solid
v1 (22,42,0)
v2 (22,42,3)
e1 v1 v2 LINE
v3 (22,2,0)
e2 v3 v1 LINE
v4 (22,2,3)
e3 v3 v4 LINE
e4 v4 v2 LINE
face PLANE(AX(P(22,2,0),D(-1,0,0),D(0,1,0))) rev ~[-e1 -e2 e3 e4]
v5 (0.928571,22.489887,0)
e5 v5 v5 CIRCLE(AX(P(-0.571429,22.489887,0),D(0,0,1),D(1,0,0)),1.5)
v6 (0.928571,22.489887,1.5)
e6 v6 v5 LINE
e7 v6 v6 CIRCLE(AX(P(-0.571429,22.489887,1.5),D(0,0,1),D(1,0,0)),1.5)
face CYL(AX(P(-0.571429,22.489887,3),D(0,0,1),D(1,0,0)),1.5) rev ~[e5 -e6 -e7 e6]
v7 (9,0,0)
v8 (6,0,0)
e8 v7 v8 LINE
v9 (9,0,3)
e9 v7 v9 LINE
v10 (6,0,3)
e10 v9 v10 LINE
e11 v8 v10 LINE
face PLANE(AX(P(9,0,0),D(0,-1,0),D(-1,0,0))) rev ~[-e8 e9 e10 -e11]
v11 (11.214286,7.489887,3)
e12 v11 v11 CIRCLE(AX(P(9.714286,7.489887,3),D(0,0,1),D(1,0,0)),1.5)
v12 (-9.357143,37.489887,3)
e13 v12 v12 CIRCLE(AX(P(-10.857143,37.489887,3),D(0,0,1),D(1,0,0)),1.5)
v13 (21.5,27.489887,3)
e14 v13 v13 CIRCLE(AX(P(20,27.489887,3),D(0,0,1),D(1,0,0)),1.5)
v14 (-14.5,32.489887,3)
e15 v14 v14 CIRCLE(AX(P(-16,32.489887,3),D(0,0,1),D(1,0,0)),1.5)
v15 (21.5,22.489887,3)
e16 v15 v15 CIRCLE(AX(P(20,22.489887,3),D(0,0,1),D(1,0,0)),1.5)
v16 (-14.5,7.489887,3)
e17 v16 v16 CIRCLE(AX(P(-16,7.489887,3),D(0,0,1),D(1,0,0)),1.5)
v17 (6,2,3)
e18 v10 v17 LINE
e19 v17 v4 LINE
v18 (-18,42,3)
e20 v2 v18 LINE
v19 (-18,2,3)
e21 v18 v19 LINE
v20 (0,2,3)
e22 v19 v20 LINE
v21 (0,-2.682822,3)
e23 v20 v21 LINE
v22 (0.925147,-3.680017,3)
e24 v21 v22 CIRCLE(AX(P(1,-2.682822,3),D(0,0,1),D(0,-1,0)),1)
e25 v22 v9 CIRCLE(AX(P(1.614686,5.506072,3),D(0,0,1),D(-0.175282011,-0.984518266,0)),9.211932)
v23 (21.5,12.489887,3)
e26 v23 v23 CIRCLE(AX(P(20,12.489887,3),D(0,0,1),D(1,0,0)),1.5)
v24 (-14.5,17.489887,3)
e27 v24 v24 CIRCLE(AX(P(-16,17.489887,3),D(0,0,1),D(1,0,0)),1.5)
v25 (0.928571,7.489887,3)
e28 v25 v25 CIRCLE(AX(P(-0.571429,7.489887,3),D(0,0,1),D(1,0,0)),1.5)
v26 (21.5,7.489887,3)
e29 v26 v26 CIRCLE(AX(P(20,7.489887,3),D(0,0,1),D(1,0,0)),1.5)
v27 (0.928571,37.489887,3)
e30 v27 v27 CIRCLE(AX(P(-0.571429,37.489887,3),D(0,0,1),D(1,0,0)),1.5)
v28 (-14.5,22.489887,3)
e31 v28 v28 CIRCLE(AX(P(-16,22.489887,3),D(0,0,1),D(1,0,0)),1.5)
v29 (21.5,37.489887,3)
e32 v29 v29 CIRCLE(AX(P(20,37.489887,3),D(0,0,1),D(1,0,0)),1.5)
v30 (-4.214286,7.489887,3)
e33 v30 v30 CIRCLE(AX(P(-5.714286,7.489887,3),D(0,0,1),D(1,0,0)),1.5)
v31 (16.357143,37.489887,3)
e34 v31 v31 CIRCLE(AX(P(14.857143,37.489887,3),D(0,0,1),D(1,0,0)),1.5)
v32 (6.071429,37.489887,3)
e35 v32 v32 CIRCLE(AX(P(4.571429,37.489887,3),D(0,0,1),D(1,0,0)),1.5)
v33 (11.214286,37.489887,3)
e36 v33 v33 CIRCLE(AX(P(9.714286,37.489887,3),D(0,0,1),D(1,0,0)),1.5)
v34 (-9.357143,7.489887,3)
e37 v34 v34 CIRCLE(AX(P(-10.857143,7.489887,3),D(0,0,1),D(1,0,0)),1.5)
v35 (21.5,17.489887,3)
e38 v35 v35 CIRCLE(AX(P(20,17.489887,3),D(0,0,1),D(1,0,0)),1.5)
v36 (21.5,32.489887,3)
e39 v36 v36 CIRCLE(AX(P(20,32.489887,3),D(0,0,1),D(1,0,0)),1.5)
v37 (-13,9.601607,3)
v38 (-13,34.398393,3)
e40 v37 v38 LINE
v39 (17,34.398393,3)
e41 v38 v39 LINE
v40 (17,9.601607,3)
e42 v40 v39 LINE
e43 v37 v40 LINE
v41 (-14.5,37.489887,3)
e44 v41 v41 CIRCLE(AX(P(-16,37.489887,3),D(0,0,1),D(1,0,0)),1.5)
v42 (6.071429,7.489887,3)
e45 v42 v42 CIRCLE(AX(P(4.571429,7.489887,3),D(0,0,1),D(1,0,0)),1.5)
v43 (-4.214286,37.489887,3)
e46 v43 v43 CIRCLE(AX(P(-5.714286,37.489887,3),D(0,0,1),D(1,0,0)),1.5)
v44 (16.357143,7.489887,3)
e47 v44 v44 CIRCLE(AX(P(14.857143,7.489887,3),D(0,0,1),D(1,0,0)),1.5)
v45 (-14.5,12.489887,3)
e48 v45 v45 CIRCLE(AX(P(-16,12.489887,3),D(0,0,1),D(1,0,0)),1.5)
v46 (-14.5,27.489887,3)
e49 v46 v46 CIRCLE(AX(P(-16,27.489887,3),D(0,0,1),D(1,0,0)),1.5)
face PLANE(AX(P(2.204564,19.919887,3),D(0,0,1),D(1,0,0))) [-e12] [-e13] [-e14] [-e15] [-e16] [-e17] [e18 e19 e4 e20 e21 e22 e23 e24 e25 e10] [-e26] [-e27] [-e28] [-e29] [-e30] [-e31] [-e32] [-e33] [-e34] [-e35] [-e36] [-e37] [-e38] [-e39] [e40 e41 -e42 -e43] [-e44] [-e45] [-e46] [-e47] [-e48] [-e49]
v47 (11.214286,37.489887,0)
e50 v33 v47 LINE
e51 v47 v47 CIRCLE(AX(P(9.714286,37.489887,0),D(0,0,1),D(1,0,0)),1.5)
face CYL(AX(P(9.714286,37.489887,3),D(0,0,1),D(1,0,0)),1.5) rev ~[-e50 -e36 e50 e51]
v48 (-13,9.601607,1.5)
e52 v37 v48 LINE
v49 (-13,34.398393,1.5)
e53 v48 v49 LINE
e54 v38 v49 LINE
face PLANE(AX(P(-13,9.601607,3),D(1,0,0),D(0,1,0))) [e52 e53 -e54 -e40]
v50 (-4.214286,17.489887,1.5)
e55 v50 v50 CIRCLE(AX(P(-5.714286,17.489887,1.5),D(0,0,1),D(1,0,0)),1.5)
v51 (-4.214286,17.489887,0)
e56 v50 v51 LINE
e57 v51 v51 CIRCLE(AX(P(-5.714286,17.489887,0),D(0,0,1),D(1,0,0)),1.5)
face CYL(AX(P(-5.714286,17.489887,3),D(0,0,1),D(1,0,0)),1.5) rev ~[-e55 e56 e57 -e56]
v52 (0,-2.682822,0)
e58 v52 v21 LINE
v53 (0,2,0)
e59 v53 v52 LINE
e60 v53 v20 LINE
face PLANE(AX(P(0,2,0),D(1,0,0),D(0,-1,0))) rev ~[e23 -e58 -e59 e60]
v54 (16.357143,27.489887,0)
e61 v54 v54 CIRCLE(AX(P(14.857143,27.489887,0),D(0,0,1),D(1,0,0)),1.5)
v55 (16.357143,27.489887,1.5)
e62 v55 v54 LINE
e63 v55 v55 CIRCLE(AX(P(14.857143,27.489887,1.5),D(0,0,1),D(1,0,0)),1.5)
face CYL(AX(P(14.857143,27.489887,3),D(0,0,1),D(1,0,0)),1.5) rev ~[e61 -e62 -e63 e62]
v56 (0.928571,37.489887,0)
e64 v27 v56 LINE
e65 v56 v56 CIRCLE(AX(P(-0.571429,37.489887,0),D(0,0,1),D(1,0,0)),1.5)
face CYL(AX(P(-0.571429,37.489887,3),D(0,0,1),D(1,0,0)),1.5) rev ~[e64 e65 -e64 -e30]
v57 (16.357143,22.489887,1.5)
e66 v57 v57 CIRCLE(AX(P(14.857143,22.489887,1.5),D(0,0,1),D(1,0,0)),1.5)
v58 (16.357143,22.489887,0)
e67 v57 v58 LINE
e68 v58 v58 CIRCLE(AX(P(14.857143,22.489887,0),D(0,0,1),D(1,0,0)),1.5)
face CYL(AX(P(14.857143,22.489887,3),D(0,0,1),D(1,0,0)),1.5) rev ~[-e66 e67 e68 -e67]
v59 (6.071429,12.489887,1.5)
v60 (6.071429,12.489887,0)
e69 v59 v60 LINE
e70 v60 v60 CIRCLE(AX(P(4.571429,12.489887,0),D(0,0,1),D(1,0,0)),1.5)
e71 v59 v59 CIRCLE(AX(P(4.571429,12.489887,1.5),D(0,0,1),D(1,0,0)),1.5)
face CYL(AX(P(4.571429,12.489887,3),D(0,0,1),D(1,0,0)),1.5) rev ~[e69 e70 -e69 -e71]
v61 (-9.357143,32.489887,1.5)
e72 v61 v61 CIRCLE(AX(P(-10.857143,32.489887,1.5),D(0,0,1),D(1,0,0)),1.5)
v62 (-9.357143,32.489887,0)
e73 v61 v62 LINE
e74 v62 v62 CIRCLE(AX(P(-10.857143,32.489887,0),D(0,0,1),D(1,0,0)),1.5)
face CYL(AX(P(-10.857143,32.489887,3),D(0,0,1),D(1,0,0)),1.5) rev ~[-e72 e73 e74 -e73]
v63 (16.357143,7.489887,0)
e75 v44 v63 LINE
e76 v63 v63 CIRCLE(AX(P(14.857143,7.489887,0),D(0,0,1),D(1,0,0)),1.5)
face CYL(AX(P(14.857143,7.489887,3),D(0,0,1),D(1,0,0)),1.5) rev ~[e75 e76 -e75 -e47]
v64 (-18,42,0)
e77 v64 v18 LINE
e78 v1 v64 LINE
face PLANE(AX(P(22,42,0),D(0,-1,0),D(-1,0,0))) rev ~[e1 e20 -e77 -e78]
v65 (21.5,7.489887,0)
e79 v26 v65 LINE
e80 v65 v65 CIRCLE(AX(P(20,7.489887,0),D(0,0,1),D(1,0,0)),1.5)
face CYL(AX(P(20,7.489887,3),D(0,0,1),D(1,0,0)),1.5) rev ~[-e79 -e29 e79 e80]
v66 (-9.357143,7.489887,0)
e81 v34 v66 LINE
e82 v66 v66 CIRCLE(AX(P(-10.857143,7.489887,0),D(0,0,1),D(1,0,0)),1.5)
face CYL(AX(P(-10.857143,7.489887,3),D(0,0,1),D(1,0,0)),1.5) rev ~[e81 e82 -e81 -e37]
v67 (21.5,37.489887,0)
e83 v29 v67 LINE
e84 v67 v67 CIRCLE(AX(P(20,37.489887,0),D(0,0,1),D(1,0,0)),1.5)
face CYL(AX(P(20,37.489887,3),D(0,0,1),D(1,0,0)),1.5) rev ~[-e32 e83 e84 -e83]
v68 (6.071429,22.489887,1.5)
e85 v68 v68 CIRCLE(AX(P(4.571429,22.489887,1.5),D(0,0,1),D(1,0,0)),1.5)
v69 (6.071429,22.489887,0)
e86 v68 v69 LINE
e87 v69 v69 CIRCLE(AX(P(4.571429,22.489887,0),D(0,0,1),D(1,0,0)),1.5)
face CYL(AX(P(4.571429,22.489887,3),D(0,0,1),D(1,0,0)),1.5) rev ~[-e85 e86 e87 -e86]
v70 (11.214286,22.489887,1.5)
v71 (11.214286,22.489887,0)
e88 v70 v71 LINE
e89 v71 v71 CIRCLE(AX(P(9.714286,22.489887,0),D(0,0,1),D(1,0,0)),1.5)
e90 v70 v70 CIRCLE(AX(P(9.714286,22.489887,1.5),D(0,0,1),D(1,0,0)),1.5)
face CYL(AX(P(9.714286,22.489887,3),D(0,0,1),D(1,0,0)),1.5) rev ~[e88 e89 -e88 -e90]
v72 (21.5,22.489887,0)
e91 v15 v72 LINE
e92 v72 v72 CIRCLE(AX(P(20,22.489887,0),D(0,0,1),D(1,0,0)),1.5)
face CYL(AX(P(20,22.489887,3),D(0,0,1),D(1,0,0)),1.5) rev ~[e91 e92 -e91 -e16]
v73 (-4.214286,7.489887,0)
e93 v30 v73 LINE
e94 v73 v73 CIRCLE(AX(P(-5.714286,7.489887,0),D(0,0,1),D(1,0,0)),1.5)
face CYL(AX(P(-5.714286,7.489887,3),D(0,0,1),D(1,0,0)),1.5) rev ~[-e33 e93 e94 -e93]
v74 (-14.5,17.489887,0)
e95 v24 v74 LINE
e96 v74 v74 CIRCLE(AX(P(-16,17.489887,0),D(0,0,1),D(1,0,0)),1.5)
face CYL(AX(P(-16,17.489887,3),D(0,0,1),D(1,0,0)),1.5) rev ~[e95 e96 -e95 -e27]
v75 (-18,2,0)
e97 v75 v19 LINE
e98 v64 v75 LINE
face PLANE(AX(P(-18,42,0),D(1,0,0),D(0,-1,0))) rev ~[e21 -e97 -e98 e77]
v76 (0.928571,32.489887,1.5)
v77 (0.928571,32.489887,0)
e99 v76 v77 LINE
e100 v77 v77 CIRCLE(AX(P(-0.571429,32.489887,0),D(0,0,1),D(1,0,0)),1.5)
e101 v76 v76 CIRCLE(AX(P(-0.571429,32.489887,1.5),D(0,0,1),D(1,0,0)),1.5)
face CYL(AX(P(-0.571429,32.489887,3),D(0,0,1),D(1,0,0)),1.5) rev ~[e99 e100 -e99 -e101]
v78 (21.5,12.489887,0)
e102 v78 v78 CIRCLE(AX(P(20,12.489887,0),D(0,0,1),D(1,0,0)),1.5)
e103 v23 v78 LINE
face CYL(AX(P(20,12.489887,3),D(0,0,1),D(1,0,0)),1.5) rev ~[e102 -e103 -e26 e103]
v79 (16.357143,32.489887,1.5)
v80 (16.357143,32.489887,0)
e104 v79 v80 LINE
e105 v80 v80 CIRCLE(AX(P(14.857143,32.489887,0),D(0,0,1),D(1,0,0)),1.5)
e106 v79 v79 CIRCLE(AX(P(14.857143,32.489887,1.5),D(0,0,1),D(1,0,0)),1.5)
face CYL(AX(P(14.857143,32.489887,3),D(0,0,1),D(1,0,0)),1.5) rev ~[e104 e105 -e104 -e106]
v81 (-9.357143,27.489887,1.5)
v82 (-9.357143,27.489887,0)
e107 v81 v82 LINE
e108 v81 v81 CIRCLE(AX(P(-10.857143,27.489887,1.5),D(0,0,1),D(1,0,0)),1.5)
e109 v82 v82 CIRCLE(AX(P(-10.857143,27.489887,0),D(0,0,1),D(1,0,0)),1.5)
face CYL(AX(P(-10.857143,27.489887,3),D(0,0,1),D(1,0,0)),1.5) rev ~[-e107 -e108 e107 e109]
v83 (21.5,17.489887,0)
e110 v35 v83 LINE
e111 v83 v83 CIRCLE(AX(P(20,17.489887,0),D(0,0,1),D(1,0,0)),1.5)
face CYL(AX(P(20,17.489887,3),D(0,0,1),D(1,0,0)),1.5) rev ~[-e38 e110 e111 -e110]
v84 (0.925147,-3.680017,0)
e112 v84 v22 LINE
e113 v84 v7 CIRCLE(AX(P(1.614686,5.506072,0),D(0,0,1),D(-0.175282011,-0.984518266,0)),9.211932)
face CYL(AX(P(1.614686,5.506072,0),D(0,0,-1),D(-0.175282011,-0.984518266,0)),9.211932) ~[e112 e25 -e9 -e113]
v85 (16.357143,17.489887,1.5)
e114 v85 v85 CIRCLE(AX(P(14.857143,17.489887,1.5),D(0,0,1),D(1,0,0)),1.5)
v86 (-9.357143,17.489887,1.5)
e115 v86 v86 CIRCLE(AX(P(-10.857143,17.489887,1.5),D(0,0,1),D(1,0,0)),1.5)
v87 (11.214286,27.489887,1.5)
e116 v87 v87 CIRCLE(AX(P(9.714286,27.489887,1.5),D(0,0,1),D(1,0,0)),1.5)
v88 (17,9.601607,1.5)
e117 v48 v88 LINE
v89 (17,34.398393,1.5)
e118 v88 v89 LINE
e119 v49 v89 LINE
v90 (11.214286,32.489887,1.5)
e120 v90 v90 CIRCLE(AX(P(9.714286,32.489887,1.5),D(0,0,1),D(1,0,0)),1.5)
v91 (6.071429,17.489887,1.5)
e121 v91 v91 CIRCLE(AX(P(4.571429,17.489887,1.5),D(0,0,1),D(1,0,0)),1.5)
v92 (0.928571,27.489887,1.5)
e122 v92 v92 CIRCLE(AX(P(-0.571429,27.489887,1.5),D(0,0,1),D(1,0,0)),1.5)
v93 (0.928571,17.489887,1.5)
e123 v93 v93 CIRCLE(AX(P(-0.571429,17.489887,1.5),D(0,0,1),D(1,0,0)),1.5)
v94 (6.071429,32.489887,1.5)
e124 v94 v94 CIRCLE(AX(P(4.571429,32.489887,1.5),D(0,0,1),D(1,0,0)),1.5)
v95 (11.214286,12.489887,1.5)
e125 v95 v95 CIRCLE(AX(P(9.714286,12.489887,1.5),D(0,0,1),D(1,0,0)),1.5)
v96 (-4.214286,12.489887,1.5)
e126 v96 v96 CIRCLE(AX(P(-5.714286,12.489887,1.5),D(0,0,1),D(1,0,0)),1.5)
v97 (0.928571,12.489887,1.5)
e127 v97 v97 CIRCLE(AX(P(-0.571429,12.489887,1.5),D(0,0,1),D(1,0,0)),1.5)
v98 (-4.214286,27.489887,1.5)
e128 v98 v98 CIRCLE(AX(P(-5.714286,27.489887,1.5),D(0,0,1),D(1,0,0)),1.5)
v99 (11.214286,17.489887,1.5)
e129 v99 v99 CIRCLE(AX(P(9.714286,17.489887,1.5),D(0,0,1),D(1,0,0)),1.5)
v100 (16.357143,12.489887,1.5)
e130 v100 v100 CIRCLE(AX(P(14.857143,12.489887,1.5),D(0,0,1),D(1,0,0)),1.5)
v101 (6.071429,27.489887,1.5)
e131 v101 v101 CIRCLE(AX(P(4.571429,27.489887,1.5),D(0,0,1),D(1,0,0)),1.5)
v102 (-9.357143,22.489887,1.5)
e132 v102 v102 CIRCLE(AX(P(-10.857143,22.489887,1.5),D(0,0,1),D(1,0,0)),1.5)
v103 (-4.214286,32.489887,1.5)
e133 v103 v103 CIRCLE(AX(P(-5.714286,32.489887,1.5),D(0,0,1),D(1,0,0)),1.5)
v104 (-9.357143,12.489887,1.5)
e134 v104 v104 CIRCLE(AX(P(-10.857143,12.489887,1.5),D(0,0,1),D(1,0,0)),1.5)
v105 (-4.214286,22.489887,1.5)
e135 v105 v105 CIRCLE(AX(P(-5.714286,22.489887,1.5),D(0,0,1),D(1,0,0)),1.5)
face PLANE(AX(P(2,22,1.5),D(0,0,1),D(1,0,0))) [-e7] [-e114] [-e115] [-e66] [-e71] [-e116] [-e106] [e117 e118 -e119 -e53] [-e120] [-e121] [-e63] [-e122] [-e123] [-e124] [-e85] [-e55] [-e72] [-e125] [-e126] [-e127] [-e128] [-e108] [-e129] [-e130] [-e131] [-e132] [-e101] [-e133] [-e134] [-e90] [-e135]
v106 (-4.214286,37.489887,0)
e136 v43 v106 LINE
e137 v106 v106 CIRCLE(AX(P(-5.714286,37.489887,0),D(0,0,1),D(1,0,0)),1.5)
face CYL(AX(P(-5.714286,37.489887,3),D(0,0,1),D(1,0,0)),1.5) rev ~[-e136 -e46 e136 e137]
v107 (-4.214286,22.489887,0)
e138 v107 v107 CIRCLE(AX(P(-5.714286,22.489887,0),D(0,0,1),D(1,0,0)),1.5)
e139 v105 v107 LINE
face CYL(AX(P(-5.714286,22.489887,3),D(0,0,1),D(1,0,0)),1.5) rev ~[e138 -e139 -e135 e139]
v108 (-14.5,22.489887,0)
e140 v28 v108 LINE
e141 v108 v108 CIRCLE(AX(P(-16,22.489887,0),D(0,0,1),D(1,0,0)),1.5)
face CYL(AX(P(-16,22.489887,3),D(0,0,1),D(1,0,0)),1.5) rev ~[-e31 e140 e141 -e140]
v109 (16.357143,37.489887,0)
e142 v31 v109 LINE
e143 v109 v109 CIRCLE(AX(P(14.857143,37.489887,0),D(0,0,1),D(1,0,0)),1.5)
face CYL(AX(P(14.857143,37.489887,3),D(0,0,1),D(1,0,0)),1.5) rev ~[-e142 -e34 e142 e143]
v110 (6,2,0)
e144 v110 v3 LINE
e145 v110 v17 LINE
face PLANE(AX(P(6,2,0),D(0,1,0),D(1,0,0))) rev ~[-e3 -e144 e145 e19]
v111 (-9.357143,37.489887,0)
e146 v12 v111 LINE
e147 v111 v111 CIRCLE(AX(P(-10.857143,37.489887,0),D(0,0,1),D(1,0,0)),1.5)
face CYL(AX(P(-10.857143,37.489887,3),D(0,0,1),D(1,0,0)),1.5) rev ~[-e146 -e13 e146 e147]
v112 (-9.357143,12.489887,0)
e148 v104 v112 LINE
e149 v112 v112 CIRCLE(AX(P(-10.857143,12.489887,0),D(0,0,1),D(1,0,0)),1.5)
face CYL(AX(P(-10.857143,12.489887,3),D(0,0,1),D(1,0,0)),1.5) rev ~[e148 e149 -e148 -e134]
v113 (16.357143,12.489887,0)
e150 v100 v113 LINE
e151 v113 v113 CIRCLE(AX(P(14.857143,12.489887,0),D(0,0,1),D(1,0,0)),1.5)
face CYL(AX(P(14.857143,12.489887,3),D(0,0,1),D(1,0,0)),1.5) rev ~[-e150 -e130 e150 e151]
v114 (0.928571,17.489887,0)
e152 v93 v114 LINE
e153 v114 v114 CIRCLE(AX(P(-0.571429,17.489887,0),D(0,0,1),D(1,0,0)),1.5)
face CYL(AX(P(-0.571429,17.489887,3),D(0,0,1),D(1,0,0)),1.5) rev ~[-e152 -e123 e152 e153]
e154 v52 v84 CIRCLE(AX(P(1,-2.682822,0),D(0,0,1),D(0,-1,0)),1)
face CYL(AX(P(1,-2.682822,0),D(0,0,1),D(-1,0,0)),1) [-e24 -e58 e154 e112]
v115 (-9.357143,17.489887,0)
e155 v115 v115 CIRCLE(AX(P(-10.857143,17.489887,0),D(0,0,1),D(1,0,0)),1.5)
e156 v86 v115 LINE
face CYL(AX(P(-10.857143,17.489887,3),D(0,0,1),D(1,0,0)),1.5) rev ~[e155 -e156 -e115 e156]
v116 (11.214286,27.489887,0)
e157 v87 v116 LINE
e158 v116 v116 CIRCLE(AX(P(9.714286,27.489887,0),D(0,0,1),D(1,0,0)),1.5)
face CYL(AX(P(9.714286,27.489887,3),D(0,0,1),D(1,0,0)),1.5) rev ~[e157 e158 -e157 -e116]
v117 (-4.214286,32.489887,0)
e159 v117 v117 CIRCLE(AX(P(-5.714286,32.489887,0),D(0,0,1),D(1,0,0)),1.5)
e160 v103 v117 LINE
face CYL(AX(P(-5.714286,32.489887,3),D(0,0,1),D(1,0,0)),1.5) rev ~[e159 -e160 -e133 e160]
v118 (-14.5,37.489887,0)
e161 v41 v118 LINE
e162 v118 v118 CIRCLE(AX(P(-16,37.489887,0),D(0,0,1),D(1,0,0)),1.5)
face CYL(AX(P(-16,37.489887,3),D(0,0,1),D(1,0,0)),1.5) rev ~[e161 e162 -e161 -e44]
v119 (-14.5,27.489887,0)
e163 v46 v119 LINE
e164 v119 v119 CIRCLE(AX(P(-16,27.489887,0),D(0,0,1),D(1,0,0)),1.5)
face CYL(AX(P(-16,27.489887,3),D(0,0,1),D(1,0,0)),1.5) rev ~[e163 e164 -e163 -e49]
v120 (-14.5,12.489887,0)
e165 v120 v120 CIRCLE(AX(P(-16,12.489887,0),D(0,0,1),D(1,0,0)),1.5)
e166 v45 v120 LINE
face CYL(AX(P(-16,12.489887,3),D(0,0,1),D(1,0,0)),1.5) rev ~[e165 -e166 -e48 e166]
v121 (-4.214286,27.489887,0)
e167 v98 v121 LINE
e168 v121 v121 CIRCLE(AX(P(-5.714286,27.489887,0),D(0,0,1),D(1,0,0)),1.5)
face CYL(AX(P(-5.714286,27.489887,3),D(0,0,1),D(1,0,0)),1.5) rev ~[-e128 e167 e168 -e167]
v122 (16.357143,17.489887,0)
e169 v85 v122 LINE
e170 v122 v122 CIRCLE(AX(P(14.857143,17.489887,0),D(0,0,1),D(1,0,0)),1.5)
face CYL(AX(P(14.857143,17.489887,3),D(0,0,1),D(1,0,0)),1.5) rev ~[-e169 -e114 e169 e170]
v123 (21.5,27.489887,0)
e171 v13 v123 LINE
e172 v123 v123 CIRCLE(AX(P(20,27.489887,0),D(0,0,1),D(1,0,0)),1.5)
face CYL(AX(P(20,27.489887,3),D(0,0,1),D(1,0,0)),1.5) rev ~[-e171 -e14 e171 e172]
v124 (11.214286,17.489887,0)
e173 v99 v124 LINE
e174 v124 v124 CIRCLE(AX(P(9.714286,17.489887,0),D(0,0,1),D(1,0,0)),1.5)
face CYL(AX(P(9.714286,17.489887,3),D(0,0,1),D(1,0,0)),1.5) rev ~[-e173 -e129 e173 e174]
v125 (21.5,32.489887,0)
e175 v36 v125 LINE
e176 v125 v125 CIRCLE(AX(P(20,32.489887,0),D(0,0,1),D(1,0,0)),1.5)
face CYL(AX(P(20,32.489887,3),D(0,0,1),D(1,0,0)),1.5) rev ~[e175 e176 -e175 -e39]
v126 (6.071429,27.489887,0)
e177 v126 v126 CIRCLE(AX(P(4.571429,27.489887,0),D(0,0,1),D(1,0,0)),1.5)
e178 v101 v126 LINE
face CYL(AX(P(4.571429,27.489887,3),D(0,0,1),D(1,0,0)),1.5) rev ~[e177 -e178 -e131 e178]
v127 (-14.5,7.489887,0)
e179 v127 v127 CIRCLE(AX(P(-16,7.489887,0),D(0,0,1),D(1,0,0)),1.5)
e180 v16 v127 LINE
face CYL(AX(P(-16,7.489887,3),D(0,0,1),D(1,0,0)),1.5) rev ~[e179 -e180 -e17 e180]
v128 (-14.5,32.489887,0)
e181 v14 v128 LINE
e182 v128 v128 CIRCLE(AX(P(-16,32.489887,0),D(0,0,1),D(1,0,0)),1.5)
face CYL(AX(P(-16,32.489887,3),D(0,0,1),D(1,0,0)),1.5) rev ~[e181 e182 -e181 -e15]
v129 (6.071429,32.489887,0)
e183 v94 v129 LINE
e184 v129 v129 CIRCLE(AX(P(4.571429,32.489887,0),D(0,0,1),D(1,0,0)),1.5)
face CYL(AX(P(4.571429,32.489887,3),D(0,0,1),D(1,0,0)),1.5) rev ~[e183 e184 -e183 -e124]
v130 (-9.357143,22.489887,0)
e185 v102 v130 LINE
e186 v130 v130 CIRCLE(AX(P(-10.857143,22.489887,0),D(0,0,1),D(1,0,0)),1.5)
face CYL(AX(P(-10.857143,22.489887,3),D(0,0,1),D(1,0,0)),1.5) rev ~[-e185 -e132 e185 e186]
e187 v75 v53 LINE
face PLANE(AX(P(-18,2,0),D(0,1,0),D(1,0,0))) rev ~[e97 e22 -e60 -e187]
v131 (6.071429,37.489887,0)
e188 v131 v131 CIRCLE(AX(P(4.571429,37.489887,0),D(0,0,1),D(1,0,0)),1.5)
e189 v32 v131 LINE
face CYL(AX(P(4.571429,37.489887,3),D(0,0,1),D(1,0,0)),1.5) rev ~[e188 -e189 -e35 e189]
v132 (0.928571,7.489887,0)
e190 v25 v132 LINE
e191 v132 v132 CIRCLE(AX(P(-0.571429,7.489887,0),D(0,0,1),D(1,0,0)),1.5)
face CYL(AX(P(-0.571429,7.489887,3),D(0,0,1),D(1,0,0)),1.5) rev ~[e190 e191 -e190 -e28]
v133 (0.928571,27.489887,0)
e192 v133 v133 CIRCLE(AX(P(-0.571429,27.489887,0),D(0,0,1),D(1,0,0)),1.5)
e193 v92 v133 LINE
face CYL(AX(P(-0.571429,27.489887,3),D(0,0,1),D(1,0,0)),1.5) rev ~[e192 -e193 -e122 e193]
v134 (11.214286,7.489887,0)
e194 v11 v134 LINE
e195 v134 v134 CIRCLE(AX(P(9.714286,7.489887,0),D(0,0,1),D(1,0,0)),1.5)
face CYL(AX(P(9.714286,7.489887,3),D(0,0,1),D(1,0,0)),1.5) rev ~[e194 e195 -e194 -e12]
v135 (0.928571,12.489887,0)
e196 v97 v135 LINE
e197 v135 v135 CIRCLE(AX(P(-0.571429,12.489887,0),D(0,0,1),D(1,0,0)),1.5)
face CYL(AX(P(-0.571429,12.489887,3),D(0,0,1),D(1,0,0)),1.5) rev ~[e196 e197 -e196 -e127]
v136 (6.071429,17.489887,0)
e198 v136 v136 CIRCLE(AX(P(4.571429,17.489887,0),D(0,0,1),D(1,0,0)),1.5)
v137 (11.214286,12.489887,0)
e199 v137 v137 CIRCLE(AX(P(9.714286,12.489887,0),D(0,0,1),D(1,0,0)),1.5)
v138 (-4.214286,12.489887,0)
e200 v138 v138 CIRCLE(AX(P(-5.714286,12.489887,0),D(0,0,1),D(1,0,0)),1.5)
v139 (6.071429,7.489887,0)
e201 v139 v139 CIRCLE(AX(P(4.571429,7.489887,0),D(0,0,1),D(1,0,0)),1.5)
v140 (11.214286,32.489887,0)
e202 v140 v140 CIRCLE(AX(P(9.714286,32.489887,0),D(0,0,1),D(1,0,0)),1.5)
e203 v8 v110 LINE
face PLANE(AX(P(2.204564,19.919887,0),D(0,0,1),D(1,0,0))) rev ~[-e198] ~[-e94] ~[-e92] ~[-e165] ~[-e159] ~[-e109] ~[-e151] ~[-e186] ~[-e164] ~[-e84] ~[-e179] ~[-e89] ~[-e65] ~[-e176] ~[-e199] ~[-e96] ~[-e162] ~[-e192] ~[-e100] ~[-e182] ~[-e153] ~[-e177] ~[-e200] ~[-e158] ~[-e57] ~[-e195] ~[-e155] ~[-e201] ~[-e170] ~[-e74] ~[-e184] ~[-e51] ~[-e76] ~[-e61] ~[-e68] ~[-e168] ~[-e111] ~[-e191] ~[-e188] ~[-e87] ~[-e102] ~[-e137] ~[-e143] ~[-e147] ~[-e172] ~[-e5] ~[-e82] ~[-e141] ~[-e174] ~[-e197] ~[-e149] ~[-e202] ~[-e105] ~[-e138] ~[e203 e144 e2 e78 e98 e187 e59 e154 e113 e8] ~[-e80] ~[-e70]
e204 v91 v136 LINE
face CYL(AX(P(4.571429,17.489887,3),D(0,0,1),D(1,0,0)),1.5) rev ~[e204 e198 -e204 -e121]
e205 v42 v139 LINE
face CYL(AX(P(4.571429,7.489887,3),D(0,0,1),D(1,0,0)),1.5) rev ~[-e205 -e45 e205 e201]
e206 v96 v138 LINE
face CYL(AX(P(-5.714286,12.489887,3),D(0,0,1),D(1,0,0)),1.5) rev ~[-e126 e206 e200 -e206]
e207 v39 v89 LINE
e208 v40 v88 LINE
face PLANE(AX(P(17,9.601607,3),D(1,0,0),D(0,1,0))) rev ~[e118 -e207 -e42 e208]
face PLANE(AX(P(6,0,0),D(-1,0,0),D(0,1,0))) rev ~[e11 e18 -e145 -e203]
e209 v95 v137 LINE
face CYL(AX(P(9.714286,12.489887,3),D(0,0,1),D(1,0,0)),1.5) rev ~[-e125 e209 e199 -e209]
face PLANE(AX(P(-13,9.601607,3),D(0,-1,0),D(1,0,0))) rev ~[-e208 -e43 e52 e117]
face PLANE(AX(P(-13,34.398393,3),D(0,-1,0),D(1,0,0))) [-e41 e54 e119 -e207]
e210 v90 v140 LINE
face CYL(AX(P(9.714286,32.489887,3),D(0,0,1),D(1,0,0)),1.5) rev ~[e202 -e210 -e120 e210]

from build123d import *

# Parameters (mm, degrees)
BOSS_EXTRU_1_DEPTH      = 3
ESQUISSE2_R             = 1.5
ENL_V_MAT_EXTRU_1_DEPTH = 48.507894081
ESQUISSE4_W             = 30
ESQUISSE4_H             = 24.796786232
ENL_V_MAT_EXTRU_3_DEPTH = 1.5
CONG_2_R                = 1


with BuildPart() as part:
    # Esquisse1 → Boss.-Extru.1 (new body)
    with BuildSketch(Plane.XY):
        with BuildLine():
            Line((-18, 2), (0, 2))
            Line((0, 2), (0, 0))
            Line((0, 0), (0, -3.563243554))
            ThreePointArc((0, -3.563243554), (5.005734949, -3.059001354), (9, 0))
            Line((9, 0), (6, 0))
            Line((6, 0), (6, 2))
            Line((6, 2), (22, 2))
            Line((22, 2), (22, 42))
            Line((22, 42), (-18, 42))
            Line((-18, 42), (-18, 2))
        make_face()
    extrude(amount=BOSS_EXTRU_1_DEPTH)

    # Esquisse2 → Enlèv. mat.-Extru.1 (cut, through all)
    with BuildSketch(Plane.XY.offset(3)):
        with Locations((-16, 37.48988726)):
            Circle(ESQUISSE2_R)
        with Locations((-10.857142857, 37.48988726)):
            Circle(ESQUISSE2_R)
        with Locations((-5.714285714, 37.48988726)):
            Circle(ESQUISSE2_R)
        with Locations((-0.571428571, 37.48988726)):
            Circle(ESQUISSE2_R)
        with Locations((4.571428571, 37.48988726)):
            Circle(ESQUISSE2_R)
        with Locations((9.714285714, 37.48988726)):
            Circle(ESQUISSE2_R)
        with Locations((14.857142857, 37.48988726)):
            Circle(ESQUISSE2_R)
        with Locations((20, 37.48988726)):
            Circle(ESQUISSE2_R)
        with Locations((-10.857142857, 32.48988726)):
            Circle(ESQUISSE2_R)
        with Locations((-5.714285714, 32.48988726)):
            Circle(ESQUISSE2_R)
        with Locations((-0.571428571, 32.48988726)):
            Circle(ESQUISSE2_R)
        with Locations((4.571428571, 32.48988726)):
            Circle(ESQUISSE2_R)
        with Locations((9.714285714, 32.48988726)):
            Circle(ESQUISSE2_R)
        with Locations((14.857142857, 32.48988726)):
            Circle(ESQUISSE2_R)
        with Locations((-10.857142857, 27.48988726)):
            Circle(ESQUISSE2_R)
        with Locations((-5.714285714, 27.48988726)):
            Circle(ESQUISSE2_R)
        with Locations((-0.571428571, 27.48988726)):
            Circle(ESQUISSE2_R)
        with Locations((4.571428571, 27.48988726)):
            Circle(ESQUISSE2_R)
        with Locations((9.714285714, 27.48988726)):
            Circle(ESQUISSE2_R)
        with Locations((14.857142857, 27.48988726)):
            Circle(ESQUISSE2_R)
        with Locations((-10.857142857, 22.48988726)):
            Circle(ESQUISSE2_R)
        with Locations((-5.714285714, 22.48988726)):
            Circle(ESQUISSE2_R)
        with Locations((-0.571428571, 22.48988726)):
            Circle(ESQUISSE2_R)
        with Locations((4.571428571, 22.48988726)):
            Circle(ESQUISSE2_R)
        with Locations((9.714285714, 22.48988726)):
            Circle(ESQUISSE2_R)
        with Locations((14.857142857, 22.48988726)):
            Circle(ESQUISSE2_R)
        with Locations((-10.857142857, 17.48988726)):
            Circle(ESQUISSE2_R)
        with Locations((-5.714285714, 17.48988726)):
            Circle(ESQUISSE2_R)
        with Locations((-0.571428571, 17.48988726)):
            Circle(ESQUISSE2_R)
        with Locations((4.571428571, 17.48988726)):
            Circle(ESQUISSE2_R)
        with Locations((9.714285714, 17.48988726)):
            Circle(ESQUISSE2_R)
        with Locations((14.857142857, 17.48988726)):
            Circle(ESQUISSE2_R)
        with Locations((-10.857142857, 12.48988726)):
            Circle(ESQUISSE2_R)
        with Locations((-5.714285714, 12.48988726)):
            Circle(ESQUISSE2_R)
        with Locations((-0.571428571, 12.48988726)):
            Circle(ESQUISSE2_R)
        with Locations((4.571428571, 12.48988726)):
            Circle(ESQUISSE2_R)
        with Locations((9.714285714, 12.48988726)):
            Circle(ESQUISSE2_R)
        with Locations((14.857142857, 12.48988726)):
            Circle(ESQUISSE2_R)
        with Locations((-10.857142857, 7.48988726)):
            Circle(ESQUISSE2_R)
        with Locations((-5.714285714, 7.48988726)):
            Circle(ESQUISSE2_R)
        with Locations((-0.571428571, 7.48988726)):
            Circle(ESQUISSE2_R)
        with Locations((4.571428571, 7.48988726)):
            Circle(ESQUISSE2_R)
        with Locations((9.714285714, 7.48988726)):
            Circle(ESQUISSE2_R)
        with Locations((14.857142857, 7.48988726)):
            Circle(ESQUISSE2_R)
        with Locations((-16, 32.48988726)):
            Circle(ESQUISSE2_R)
        with Locations((-16, 27.48988726)):
            Circle(ESQUISSE2_R)
        with Locations((-16, 22.48988726)):
            Circle(ESQUISSE2_R)
        with Locations((-16, 17.48988726)):
            Circle(ESQUISSE2_R)
        with Locations((-16, 12.48988726)):
            Circle(ESQUISSE2_R)
        with Locations((-16, 7.48988726)):
            Circle(ESQUISSE2_R)
        with Locations((20, 32.48988726)):
            Circle(ESQUISSE2_R)
        with Locations((20, 27.48988726)):
            Circle(ESQUISSE2_R)
        with Locations((20, 22.48988726)):
            Circle(ESQUISSE2_R)
        with Locations((20, 17.48988726)):
            Circle(ESQUISSE2_R)
        with Locations((20, 12.48988726)):
            Circle(ESQUISSE2_R)
        with Locations((20, 7.48988726)):
            Circle(ESQUISSE2_R)
    extrude(amount=-ENL_V_MAT_EXTRU_1_DEPTH, mode=Mode.SUBTRACT)

    # Esquisse4 → Enlèv. mat.-Extru.3 (cut)
    with BuildSketch(Plane.XY.offset(3)):
        with Locations((2, 22)):
            Rectangle(ESQUISSE4_W, ESQUISSE4_H)
    extrude(amount=-ENL_V_MAT_EXTRU_3_DEPTH, mode=Mode.SUBTRACT)

    # Congé2
    cong_2_edges = [part.edges().sort_by_distance(p)[0] for p in [
        (0, -3.563243554, 1.5),
    ]]
    fillet(cong_2_edges, radius=CONG_2_R)


solid = part.part
